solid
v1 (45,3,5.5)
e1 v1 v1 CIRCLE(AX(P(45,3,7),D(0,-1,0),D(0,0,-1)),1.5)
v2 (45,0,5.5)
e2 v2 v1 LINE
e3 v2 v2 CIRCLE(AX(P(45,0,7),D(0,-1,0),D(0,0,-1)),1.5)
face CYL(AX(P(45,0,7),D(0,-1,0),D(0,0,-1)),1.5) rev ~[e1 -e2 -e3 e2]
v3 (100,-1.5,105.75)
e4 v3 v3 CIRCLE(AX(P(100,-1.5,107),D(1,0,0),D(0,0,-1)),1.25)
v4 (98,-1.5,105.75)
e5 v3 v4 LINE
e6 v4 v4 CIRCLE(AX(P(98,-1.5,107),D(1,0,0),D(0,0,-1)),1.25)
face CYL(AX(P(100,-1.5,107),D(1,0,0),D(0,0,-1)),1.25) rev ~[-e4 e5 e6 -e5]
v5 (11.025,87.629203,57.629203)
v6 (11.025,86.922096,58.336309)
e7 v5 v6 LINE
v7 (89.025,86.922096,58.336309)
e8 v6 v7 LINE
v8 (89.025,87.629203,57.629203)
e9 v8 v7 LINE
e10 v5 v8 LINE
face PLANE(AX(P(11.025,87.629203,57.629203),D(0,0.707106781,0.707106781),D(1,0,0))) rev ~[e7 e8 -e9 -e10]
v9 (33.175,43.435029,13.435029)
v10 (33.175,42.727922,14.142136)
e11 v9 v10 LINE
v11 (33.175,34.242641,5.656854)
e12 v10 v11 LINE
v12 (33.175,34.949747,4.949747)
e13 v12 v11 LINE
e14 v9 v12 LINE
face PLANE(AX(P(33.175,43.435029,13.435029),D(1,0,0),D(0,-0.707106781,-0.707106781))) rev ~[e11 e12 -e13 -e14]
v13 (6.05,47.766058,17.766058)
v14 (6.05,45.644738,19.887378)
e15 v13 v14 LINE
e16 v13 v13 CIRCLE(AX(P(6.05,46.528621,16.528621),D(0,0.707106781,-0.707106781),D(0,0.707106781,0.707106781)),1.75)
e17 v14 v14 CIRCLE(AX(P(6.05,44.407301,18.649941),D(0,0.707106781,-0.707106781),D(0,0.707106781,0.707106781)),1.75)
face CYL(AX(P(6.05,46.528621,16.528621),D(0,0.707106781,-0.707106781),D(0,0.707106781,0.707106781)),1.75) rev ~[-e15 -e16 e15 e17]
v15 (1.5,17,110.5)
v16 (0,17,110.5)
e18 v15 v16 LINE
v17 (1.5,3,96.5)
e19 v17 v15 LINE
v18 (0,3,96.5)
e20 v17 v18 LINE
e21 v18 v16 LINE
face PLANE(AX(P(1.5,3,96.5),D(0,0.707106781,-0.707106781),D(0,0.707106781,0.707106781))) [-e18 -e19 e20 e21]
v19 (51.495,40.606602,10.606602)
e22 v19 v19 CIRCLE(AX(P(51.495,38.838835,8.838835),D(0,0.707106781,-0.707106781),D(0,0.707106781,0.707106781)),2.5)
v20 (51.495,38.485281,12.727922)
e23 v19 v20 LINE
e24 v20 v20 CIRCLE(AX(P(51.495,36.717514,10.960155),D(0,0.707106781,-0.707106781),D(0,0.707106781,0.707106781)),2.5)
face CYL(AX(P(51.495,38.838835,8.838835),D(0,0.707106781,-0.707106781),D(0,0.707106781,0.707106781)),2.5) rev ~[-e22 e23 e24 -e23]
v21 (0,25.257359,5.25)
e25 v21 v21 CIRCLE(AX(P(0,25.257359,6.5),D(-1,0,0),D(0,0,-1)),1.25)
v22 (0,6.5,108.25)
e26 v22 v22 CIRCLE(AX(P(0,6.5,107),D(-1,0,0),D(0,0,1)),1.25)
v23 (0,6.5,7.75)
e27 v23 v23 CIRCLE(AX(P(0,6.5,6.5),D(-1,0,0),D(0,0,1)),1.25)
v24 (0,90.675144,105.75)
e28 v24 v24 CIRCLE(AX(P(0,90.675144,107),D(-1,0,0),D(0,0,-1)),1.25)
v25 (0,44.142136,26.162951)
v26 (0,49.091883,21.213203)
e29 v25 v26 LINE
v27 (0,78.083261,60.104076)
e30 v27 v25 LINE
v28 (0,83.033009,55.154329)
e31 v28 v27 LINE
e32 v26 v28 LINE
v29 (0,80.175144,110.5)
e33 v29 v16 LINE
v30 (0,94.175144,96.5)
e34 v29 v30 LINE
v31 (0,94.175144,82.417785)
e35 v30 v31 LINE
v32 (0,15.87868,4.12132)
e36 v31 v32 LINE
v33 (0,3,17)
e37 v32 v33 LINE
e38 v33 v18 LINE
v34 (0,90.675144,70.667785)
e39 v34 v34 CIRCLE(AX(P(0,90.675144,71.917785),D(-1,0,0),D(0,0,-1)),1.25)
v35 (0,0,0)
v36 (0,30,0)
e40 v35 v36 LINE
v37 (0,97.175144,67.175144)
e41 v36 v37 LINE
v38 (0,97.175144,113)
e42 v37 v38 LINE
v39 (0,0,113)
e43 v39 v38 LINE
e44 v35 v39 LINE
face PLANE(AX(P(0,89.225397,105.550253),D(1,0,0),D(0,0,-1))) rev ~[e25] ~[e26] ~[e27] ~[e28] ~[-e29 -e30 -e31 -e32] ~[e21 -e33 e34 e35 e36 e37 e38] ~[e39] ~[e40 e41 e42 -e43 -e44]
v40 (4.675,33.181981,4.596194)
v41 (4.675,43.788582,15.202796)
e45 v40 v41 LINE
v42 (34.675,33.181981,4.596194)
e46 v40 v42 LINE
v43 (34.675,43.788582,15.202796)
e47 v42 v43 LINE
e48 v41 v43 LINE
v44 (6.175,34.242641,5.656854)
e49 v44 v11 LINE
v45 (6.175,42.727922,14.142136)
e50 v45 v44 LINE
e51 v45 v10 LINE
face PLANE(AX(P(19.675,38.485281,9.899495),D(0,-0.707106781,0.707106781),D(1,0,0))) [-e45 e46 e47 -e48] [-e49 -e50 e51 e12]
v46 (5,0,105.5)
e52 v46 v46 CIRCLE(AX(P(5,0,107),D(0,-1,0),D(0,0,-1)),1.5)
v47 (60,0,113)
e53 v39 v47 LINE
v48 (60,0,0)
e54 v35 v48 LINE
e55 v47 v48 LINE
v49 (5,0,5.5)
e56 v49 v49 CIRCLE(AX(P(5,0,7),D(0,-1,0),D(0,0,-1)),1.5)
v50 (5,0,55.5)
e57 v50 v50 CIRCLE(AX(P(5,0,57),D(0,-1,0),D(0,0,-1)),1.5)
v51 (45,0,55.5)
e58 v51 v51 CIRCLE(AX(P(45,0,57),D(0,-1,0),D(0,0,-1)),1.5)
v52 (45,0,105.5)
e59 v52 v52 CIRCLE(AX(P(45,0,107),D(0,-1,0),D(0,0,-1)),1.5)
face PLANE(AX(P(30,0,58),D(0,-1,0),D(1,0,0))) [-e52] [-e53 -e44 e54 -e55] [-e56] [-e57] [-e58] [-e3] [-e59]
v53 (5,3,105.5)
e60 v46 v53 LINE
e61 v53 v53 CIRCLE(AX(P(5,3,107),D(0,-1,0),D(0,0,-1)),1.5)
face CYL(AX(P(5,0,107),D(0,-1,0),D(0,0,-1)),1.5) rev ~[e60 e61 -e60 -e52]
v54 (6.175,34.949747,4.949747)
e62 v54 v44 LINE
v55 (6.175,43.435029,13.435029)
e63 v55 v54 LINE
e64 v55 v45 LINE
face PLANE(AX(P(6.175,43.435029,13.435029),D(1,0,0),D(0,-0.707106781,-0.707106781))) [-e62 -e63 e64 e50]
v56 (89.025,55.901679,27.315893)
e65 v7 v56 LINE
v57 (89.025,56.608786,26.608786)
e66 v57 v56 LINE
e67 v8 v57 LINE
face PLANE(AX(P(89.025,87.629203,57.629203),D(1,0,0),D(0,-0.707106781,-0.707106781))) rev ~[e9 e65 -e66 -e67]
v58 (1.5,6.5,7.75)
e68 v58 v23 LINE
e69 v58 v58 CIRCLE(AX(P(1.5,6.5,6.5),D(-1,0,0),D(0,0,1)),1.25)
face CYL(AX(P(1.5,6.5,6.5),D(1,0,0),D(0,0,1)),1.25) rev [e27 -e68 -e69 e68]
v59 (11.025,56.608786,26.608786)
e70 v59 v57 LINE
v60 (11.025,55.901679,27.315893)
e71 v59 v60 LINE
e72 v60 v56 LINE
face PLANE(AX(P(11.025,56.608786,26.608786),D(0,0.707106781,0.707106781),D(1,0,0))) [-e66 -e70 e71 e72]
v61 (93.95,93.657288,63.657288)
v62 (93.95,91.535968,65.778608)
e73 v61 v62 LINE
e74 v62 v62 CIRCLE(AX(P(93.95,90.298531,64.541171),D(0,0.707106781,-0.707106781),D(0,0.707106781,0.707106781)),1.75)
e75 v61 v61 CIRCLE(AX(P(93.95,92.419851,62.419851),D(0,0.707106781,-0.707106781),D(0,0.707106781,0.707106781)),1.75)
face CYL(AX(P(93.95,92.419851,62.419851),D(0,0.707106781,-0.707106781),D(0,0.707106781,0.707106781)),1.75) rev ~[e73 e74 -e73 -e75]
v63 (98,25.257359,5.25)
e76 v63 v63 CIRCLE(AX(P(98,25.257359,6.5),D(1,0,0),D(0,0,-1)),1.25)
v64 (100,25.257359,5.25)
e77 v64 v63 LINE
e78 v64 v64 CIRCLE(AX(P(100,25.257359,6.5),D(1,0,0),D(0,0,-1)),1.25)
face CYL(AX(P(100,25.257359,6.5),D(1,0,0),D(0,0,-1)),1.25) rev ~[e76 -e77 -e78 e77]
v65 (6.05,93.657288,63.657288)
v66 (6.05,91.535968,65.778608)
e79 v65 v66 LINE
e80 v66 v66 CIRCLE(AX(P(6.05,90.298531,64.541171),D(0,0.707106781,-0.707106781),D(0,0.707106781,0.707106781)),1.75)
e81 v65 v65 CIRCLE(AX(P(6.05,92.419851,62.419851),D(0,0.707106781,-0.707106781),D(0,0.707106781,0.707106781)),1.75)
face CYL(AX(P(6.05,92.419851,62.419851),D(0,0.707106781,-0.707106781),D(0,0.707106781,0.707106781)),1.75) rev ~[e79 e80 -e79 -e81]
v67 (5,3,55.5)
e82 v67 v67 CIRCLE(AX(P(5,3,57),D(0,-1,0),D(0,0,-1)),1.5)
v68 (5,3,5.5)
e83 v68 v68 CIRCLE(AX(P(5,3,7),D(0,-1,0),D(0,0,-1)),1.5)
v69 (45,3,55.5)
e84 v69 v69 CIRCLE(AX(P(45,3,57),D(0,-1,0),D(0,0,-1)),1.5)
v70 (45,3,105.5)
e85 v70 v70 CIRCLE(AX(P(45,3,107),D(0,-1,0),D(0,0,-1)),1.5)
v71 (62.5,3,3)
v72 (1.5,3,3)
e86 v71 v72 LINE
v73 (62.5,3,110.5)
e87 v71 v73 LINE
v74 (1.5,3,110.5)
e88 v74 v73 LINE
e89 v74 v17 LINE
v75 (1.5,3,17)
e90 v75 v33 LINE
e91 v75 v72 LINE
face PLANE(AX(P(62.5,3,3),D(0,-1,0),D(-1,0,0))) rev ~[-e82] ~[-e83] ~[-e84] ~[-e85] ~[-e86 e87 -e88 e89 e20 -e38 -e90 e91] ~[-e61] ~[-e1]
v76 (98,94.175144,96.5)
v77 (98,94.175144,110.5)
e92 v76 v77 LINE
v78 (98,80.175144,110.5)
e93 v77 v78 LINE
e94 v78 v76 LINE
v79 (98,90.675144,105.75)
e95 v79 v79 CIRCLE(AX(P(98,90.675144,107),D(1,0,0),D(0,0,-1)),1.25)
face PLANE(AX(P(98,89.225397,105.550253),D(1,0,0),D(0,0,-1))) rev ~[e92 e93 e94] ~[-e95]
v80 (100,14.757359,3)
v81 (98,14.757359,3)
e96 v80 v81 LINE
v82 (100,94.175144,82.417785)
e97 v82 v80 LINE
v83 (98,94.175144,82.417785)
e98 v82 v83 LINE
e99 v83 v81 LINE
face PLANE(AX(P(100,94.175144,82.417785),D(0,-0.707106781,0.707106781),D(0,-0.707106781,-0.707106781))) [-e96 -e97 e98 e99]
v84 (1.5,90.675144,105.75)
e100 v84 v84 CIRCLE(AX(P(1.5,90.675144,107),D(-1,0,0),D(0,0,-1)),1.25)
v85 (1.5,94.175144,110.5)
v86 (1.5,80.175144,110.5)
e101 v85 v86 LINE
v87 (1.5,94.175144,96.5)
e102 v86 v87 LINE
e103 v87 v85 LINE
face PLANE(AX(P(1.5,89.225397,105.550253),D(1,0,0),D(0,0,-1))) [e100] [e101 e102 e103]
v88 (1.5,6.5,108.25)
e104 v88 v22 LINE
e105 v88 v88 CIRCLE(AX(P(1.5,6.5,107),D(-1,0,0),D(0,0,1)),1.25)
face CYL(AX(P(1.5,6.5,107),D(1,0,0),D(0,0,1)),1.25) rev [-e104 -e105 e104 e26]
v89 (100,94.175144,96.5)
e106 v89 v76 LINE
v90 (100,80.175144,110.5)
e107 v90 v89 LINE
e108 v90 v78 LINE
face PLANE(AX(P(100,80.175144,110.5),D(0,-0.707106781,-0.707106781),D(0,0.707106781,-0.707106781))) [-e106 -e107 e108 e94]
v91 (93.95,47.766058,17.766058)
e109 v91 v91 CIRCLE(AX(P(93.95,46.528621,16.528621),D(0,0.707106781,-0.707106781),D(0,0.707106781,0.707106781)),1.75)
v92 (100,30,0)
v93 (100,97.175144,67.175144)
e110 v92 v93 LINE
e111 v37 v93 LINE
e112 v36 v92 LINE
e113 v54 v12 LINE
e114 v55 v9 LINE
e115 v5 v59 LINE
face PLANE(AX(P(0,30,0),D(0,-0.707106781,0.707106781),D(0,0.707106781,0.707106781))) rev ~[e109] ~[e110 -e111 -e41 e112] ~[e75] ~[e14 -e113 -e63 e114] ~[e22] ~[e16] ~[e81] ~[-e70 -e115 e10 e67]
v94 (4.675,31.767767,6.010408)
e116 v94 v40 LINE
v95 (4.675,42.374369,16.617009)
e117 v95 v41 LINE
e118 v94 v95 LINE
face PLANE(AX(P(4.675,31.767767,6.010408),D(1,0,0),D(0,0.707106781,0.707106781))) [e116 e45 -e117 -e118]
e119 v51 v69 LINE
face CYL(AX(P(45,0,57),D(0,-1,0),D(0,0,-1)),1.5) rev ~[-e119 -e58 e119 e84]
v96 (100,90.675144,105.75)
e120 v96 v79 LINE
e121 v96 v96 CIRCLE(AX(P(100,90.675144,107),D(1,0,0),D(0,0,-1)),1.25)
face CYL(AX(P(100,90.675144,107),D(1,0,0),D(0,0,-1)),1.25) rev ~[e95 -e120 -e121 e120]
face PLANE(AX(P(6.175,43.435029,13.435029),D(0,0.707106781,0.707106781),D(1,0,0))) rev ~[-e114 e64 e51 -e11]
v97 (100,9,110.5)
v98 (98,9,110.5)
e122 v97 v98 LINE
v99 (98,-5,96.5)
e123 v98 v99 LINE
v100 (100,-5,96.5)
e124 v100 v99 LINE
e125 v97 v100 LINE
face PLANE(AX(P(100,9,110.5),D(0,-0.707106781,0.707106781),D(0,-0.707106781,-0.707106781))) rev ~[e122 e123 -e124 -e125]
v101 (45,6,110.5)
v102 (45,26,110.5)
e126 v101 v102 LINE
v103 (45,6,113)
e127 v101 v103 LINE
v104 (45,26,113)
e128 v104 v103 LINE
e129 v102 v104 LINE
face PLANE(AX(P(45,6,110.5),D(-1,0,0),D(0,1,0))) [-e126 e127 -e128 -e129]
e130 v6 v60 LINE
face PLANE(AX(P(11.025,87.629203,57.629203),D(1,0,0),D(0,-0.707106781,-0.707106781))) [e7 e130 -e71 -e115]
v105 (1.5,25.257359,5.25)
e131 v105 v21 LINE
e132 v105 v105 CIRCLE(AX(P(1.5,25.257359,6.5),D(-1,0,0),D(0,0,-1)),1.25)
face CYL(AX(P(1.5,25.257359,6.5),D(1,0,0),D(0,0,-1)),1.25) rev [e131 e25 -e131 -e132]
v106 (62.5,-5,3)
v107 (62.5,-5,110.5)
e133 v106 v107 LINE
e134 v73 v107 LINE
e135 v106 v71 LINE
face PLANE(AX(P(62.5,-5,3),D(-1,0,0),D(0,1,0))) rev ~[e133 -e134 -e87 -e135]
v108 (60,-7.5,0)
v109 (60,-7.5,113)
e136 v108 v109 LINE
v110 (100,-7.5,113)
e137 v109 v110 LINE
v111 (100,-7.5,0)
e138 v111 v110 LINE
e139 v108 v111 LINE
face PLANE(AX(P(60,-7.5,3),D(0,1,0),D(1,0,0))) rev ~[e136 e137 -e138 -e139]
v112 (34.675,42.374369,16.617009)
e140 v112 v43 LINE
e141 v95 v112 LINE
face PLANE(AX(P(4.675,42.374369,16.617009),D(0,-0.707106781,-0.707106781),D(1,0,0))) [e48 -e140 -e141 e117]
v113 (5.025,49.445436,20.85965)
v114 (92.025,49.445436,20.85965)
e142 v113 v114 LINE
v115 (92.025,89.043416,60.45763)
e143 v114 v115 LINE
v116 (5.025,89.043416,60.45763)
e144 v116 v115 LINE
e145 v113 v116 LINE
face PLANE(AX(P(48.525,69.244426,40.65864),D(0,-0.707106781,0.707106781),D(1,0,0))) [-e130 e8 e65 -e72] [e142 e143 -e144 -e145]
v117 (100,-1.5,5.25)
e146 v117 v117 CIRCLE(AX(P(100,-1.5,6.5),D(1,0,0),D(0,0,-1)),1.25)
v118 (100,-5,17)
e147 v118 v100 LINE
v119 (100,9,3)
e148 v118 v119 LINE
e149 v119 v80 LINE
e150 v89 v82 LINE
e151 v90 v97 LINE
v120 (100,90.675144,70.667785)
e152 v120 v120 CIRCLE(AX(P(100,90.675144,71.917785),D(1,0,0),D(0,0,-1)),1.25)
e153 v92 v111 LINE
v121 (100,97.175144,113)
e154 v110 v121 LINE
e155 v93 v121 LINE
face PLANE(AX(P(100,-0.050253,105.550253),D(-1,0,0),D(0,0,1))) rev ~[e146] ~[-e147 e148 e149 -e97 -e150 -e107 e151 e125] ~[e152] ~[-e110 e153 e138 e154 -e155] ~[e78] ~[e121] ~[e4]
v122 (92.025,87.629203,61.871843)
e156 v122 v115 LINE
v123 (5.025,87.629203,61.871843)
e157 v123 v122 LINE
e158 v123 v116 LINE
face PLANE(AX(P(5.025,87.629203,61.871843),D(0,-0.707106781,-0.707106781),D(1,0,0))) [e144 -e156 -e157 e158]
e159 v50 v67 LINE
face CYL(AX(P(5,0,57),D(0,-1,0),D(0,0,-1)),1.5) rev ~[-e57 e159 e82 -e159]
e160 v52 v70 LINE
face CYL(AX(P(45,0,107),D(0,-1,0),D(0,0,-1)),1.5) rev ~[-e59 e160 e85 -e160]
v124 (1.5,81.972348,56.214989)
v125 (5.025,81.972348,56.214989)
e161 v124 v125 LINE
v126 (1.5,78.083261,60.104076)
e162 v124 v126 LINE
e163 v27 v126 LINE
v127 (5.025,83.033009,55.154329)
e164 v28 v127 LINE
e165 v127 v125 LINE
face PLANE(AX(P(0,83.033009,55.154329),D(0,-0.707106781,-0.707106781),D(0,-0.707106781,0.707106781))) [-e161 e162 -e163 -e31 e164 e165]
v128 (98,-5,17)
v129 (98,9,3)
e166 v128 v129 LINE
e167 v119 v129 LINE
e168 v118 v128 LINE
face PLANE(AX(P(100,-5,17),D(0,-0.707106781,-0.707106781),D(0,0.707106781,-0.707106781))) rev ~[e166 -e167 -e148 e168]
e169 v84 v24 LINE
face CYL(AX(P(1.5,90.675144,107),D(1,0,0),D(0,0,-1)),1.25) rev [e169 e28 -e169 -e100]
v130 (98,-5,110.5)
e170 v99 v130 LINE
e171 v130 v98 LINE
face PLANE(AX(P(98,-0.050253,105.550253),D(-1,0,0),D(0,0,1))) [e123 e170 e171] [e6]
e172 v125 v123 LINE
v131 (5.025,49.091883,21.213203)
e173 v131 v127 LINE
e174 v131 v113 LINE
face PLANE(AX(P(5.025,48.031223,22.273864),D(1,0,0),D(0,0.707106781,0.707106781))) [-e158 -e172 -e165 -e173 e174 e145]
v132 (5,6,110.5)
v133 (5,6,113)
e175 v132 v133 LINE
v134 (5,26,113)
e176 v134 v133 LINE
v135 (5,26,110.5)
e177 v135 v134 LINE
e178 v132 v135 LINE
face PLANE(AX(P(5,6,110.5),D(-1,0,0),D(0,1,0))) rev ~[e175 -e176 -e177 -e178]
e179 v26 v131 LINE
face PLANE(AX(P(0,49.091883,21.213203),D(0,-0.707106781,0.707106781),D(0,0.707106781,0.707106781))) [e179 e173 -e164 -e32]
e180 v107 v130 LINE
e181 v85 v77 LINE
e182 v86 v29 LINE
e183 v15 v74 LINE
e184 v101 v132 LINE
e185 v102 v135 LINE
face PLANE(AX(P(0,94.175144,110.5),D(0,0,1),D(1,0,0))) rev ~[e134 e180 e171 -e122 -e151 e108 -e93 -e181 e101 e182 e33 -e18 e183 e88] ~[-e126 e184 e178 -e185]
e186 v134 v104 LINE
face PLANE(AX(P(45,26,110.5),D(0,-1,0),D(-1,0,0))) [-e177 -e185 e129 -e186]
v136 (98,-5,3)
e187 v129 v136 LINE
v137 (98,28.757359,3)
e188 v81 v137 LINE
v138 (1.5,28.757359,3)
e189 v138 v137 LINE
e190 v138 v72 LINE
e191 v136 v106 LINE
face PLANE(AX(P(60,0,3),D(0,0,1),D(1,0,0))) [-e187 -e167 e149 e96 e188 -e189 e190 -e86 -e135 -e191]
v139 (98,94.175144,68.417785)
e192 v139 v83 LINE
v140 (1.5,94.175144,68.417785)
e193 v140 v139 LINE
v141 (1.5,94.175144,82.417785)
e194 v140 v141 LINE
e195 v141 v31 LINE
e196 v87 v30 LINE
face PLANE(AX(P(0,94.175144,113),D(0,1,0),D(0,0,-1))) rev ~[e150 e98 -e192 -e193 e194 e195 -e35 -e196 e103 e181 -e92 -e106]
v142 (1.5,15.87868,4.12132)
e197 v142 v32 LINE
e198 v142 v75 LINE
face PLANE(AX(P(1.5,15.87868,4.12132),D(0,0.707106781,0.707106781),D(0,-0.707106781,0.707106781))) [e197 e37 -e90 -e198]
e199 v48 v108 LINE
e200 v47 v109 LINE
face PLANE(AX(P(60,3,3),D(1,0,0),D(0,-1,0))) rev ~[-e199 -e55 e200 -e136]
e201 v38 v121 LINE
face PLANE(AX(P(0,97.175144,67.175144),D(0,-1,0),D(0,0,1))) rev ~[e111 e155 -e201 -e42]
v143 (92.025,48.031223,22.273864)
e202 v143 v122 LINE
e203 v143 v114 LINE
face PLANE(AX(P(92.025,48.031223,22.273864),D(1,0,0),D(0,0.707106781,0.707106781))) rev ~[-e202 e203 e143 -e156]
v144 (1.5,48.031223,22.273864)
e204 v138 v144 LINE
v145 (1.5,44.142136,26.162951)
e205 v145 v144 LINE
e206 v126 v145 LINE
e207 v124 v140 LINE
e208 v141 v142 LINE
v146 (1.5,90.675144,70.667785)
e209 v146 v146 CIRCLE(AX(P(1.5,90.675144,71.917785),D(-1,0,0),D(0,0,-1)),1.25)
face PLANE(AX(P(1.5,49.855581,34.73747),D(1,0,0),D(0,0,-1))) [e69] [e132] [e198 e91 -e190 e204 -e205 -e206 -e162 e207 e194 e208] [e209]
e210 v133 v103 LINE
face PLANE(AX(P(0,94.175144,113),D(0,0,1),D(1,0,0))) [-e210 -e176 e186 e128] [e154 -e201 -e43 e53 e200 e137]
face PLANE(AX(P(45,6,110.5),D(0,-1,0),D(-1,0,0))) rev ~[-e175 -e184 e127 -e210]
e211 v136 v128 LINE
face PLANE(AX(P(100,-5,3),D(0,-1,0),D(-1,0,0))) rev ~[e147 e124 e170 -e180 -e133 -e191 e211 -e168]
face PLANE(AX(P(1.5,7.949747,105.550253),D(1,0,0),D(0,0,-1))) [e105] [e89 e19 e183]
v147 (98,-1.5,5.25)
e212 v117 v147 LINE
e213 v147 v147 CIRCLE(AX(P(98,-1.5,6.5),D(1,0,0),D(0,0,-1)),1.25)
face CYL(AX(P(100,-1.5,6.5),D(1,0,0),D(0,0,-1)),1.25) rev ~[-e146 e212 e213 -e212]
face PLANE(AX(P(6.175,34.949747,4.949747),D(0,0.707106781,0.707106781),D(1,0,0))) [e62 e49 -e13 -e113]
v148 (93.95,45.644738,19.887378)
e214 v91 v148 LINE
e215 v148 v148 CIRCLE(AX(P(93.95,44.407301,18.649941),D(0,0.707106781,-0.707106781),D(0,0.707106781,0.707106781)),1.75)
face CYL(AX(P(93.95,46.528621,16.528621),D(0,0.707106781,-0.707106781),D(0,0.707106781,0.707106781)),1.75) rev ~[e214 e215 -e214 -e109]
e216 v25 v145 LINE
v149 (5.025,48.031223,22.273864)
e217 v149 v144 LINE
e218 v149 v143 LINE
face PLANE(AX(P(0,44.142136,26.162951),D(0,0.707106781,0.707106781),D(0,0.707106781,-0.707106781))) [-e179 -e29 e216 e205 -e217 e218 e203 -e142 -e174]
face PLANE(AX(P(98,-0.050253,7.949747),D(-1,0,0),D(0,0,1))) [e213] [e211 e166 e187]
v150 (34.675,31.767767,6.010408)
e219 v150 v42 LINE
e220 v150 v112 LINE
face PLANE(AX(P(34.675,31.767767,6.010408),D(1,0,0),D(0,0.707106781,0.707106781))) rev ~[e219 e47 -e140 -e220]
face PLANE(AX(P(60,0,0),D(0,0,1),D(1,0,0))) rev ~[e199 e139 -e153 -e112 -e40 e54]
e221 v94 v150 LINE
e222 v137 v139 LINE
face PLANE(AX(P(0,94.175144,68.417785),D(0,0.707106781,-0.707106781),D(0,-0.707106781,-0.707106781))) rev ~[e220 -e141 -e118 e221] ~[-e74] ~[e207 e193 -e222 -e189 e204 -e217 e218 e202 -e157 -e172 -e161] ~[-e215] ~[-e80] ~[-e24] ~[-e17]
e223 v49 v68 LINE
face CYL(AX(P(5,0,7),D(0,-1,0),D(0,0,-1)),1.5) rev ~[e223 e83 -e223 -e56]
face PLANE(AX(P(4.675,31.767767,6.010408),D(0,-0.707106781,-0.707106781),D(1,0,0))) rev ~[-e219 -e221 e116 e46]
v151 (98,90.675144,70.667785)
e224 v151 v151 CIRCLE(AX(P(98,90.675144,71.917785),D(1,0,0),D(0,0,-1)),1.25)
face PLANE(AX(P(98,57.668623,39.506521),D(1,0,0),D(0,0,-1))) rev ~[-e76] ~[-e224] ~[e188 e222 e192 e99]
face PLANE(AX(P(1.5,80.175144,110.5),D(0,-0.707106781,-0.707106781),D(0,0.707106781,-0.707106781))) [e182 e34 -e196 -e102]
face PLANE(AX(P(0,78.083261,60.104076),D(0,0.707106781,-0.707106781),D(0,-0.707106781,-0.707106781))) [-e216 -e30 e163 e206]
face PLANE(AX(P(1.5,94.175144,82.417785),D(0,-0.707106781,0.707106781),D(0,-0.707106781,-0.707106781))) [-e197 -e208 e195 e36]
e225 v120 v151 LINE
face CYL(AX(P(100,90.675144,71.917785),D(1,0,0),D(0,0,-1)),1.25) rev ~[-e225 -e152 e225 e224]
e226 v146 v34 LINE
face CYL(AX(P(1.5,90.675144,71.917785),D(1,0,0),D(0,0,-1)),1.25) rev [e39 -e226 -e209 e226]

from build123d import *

# Parameters (mm, degrees)
BOSS_EXTRUDE1_DEPTH = 100
SKETCH2_W           = 40
SKETCH2_H           = 3
BOSS_EXTRUDE2_DEPTH = 7.5
SKETCH3_W           = 60
SKETCH3_H           = 110
BOSS_EXTRUDE3_DEPTH = 3
BOSS_EXTRUDE4_DEPTH = 110
BOSS_EXTRUDE5_REACH = 183.953
SKETCH5_W           = 100
SKETCH5_H           = 2.5
CUT_EXTRUDE1_REACH  = 181.477
SKETCH6_R           = 1.5
SKETCH7_R           = 1.25
BOSS_EXTRUDE6_DEPTH = 2
CUT_EXTRUDE2_REACH  = 184.035
SKETCH8_R           = 1.75
SKETCH8_R_2         = 2.5
SKETCH8_W           = 78
SKETCH8_H           = 43.869493833
SKETCH8_W_2         = 27
SKETCH8_H_2         = 12
SKETCH9_W           = 87
SKETCH9_H           = 56
SKETCH9_W_2         = 30
SKETCH9_H_2         = 15
CUT_EXTRUDE3_DEPTH  = 2
SKETCH10_W          = 40
SKETCH10_H          = 20
CUT_EXTRUDE4_DEPTH  = 178.913626945
BOSS_EXTRUDE7_START = -1.5
SKETCH11_R          = 1.25
BOSS_EXTRUDE7_DEPTH = 1.5
CUT_EXTRUDE5_REACH  = 181.477


with BuildPart() as part:
    # Sketch1 → Boss-Extrude1 (new body)
    with BuildSketch(Plane(origin=(0, 0, 0), x_dir=(0, 0, -1), z_dir=(1, 0, 0))):
        Polygon((0, 0), (0, 30), (-67.175144213, 97.175144213), (-113, 97.175144213), (-113, 94.175144213), (-68.4177849, 94.175144213), (-3, 28.757359313), (-3, 0), align=None)
    extrude(amount=BOSS_EXTRUDE1_DEPTH)

    # Sketch2 → Boss-Extrude2 (add)
    with BuildSketch(Plane.XZ):
        with Locations((80, 1.5)):
            Rectangle(SKETCH2_W, SKETCH2_H)
    extrude(amount=BOSS_EXTRUDE2_DEPTH)

    # Sketch3 → Boss-Extrude3 (add)
    with BuildSketch(Plane.XZ):
        with Locations((30, 58)):
            Rectangle(SKETCH3_W, SKETCH3_H)
    extrude(amount=-BOSS_EXTRUDE3_DEPTH)

    # Sketch4 → Boss-Extrude4 (add)
    with BuildSketch(Plane.XY.offset(3)):
        Polygon((60, 3), (60, -7.5), (100, -7.5), (100, -5), (62.5, -5), (62.5, 3), align=None)
    extrude(amount=BOSS_EXTRUDE4_DEPTH)

    # Sketch5 → Boss-Extrude5 (add, up to next)
    with BuildSketch(Plane.XZ.offset(-94.175144213), mode=Mode.PRIVATE) as boss_extrude5_sk1:
        with Locations((50, 111.75)):
            Rectangle(SKETCH5_W, SKETCH5_H)
    boss_extrude5_tool1 = extrude(boss_extrude5_sk1.sketch, amount=BOSS_EXTRUDE5_REACH, mode=Mode.PRIVATE) - part.part
    add(boss_extrude5_tool1.solids().sort_by_distance((50, 94.175144, 111.75))[0])

    # Sketch6 → Cut-Extrude1 (cut, up to next)
    with BuildSketch(Plane.XZ, mode=Mode.PRIVATE) as cut_extrude1_sk1:
        with Locations(Location((5, 107, 0), (0, 0, 270))):
            Circle(SKETCH6_R)
    cut_extrude1_tool1 = extrude(cut_extrude1_sk1.sketch, amount=-CUT_EXTRUDE1_REACH, mode=Mode.PRIVATE) & part.part
    # Sketch6 → Cut-Extrude1 (cut, up to next)
    with BuildSketch(Plane.XZ, mode=Mode.PRIVATE) as cut_extrude1_sk2:
        with Locations(Location((45, 107, 0), (0, 0, 270))):
            Circle(SKETCH6_R)
    cut_extrude1_tool2 = extrude(cut_extrude1_sk2.sketch, amount=-CUT_EXTRUDE1_REACH, mode=Mode.PRIVATE) & part.part
    # Sketch6 → Cut-Extrude1 (cut, up to next)
    with BuildSketch(Plane.XZ, mode=Mode.PRIVATE) as cut_extrude1_sk3:
        with Locations(Location((45, 57, 0), (0, 0, 270))):
            Circle(SKETCH6_R)
    cut_extrude1_tool3 = extrude(cut_extrude1_sk3.sketch, amount=-CUT_EXTRUDE1_REACH, mode=Mode.PRIVATE) & part.part
    # Sketch6 → Cut-Extrude1 (cut, up to next)
    with BuildSketch(Plane.XZ, mode=Mode.PRIVATE) as cut_extrude1_sk4:
        with Locations(Location((5, 57, 0), (0, 0, 270))):
            Circle(SKETCH6_R)
    cut_extrude1_tool4 = extrude(cut_extrude1_sk4.sketch, amount=-CUT_EXTRUDE1_REACH, mode=Mode.PRIVATE) & part.part
    # Sketch6 → Cut-Extrude1 (cut, up to next)
    with BuildSketch(Plane.XZ, mode=Mode.PRIVATE) as cut_extrude1_sk5:
        with Locations(Location((5, 7, 0), (0, 0, 270))):
            Circle(SKETCH6_R)
    cut_extrude1_tool5 = extrude(cut_extrude1_sk5.sketch, amount=-CUT_EXTRUDE1_REACH, mode=Mode.PRIVATE) & part.part
    # Sketch6 → Cut-Extrude1 (cut, up to next)
    with BuildSketch(Plane.XZ, mode=Mode.PRIVATE) as cut_extrude1_sk6:
        with Locations(Location((45, 7, 0), (0, 0, 270))):
            Circle(SKETCH6_R)
    cut_extrude1_tool6 = extrude(cut_extrude1_sk6.sketch, amount=-CUT_EXTRUDE1_REACH, mode=Mode.PRIVATE) & part.part
    add(cut_extrude1_tool1.solids().sort_by_distance((5, 0, 107))[0], mode=Mode.SUBTRACT)
    add(cut_extrude1_tool2.solids().sort_by_distance((45, 0, 107))[0], mode=Mode.SUBTRACT)
    add(cut_extrude1_tool3.solids().sort_by_distance((45, 0, 57))[0], mode=Mode.SUBTRACT)
    add(cut_extrude1_tool4.solids().sort_by_distance((5, 0, 57))[0], mode=Mode.SUBTRACT)
    add(cut_extrude1_tool5.solids().sort_by_distance((5, 0, 7))[0], mode=Mode.SUBTRACT)
    add(cut_extrude1_tool6.solids().sort_by_distance((45, 0, 7))[0], mode=Mode.SUBTRACT)

    # Sketch7 → Boss-Extrude6 (add)
    # profile 1 of 4: a face of its own
    with BuildSketch(Plane(origin=(100, 0, 0), x_dir=(0, 0, -1), z_dir=(1, 0, 0))):
        Polygon((-110.5, -5), (-110.5, 9), (-96.5, -5), align=None)
        with Locations((-107, -1.5)):
            Circle(SKETCH7_R, mode=Mode.SUBTRACT)
    # profile 2 of 4: a face of its own
    with BuildSketch(Plane(origin=(100, 0, 0), x_dir=(0, 0, -1), z_dir=(1, 0, 0))):
        Polygon((-110.5, 94.175144213), (-110.5, 80.175144213), (-96.5, 94.175144213), align=None)
        with Locations((-107, 90.675144213)):
            Circle(SKETCH7_R, mode=Mode.SUBTRACT)
    # profile 3 of 4: a face of its own
    with BuildSketch(Plane(origin=(100, 0, 0), x_dir=(0, 0, -1), z_dir=(1, 0, 0))):
        Polygon((-82.4177849, 94.175144213), (-3, 14.757359313), (-3, 28.757359313), (-68.4177849, 94.175144213), align=None)
        with Locations((-6.5, 25.257359313)):
            Circle(SKETCH7_R, mode=Mode.SUBTRACT)
        with Locations((-71.9177849, 90.675144213)):
            Circle(SKETCH7_R, mode=Mode.SUBTRACT)
    # profile 4 of 4: a face of its own
    with BuildSketch(Plane(origin=(100, 0, 0), x_dir=(0, 0, -1), z_dir=(1, 0, 0))):
        Polygon((-17, -5), (-3, 9), (-3, -5), align=None)
        with Locations((-6.5, -1.5)):
            Circle(SKETCH7_R, mode=Mode.SUBTRACT)
    extrude(amount=-BOSS_EXTRUDE6_DEPTH)

    # Sketch8 → Cut-Extrude2 (cut, up to next)
    with BuildSketch(Plane(origin=(0, 15, -15), x_dir=(1, 0, 0), z_dir=(0, 0.7071067811865488, -0.7071067811865464)), mode=Mode.PRIVATE) as cut_extrude2_sk1:
        with Locations(Location((6.05, -109.488203436, 0), (0, 0, 270))):
            Circle(SKETCH8_R)
    cut_extrude2_tool1 = extrude(cut_extrude2_sk1.sketch, amount=-CUT_EXTRUDE2_REACH, mode=Mode.PRIVATE) & part.part
    # Sketch8 → Cut-Extrude2 (cut, up to next)
    with BuildSketch(Plane(origin=(0, 15, -15), x_dir=(1, 0, 0), z_dir=(0, 0.7071067811865488, -0.7071067811865464)), mode=Mode.PRIVATE) as cut_extrude2_sk2:
        with Locations(Location((93.95, -109.488203436, 0), (0, 0, 270))):
            Circle(SKETCH8_R)
    cut_extrude2_tool2 = extrude(cut_extrude2_sk2.sketch, amount=-CUT_EXTRUDE2_REACH, mode=Mode.PRIVATE) & part.part
    # Sketch8 → Cut-Extrude2 (cut, up to next)
    with BuildSketch(Plane(origin=(0, 15, -15), x_dir=(1, 0, 0), z_dir=(0, 0.7071067811865488, -0.7071067811865464)), mode=Mode.PRIVATE) as cut_extrude2_sk3:
        with Locations(Location((93.95, -44.588203436, 0), (0, 0, 270))):
            Circle(SKETCH8_R)
    cut_extrude2_tool3 = extrude(cut_extrude2_sk3.sketch, amount=-CUT_EXTRUDE2_REACH, mode=Mode.PRIVATE) & part.part
    # Sketch8 → Cut-Extrude2 (cut, up to next)
    with BuildSketch(Plane(origin=(0, 15, -15), x_dir=(1, 0, 0), z_dir=(0, 0.7071067811865488, -0.7071067811865464)), mode=Mode.PRIVATE) as cut_extrude2_sk4:
        with Locations(Location((6.05, -44.588203436, 0), (0, 0, 270))):
            Circle(SKETCH8_R)
    cut_extrude2_tool4 = extrude(cut_extrude2_sk4.sketch, amount=-CUT_EXTRUDE2_REACH, mode=Mode.PRIVATE) & part.part
    # Sketch8 → Cut-Extrude2 (cut, up to next)
    with BuildSketch(Plane(origin=(0, 15, -15), x_dir=(1, 0, 0), z_dir=(0, 0.7071067811865488, -0.7071067811865464)), mode=Mode.PRIVATE) as cut_extrude2_sk5:
        with Locations(Location((51.495, -33.713203436, 0), (0, 0, 270))):
            Circle(SKETCH8_R_2)
    cut_extrude2_tool5 = extrude(cut_extrude2_sk5.sketch, amount=-CUT_EXTRUDE2_REACH, mode=Mode.PRIVATE) & part.part
    # Sketch8 → Cut-Extrude2 (cut, up to next)
    with BuildSketch(Plane(origin=(0, 15, -15), x_dir=(1, 0, 0), z_dir=(0, 0.7071067811865488, -0.7071067811865464)), mode=Mode.PRIVATE) as cut_extrude2_sk6:
        with Locations((50.025, -80.778456519)):
            Rectangle(SKETCH8_W, SKETCH8_H)
    cut_extrude2_tool6 = extrude(cut_extrude2_sk6.sketch, amount=-CUT_EXTRUDE2_REACH, mode=Mode.PRIVATE) & part.part
    # Sketch8 → Cut-Extrude2 (cut, up to next)
    with BuildSketch(Plane(origin=(0, 15, -15), x_dir=(1, 0, 0), z_dir=(0, 0.7071067811865488, -0.7071067811865464)), mode=Mode.PRIVATE) as cut_extrude2_sk7:
        with Locations((19.675, -34.213203436)):
            Rectangle(SKETCH8_W_2, SKETCH8_H_2)
    cut_extrude2_tool7 = extrude(cut_extrude2_sk7.sketch, amount=-CUT_EXTRUDE2_REACH, mode=Mode.PRIVATE) & part.part
    add(cut_extrude2_tool1.solids().sort_by_distance((6.05, 92.419851, 62.419851))[0], mode=Mode.SUBTRACT)
    add(cut_extrude2_tool2.solids().sort_by_distance((93.95, 92.419851, 62.419851))[0], mode=Mode.SUBTRACT)
    add(cut_extrude2_tool3.solids().sort_by_distance((93.95, 46.528621, 16.528621))[0], mode=Mode.SUBTRACT)
    add(cut_extrude2_tool4.solids().sort_by_distance((6.05, 46.528621, 16.528621))[0], mode=Mode.SUBTRACT)
    add(cut_extrude2_tool5.solids().sort_by_distance((51.495, 38.838835, 8.838835))[0], mode=Mode.SUBTRACT)
    add(cut_extrude2_tool6.solids().sort_by_distance((50.025, 72.118994, 42.118994))[0], mode=Mode.SUBTRACT)
    add(cut_extrude2_tool7.solids().sort_by_distance((19.675, 39.192388, 9.192388))[0], mode=Mode.SUBTRACT)

    # Sketch9 → Cut-Extrude3 (cut)
    with BuildSketch(Plane(origin=(0, 12.878679656, -12.878679656), x_dir=(1, 0, 0), z_dir=(0, -0.7071067811865489, 0.7071067811865461))):
        with Locations((48.525, 77.713203436)):
            Rectangle(SKETCH9_W, SKETCH9_H)
        with Locations((19.675, 34.213203436)):
            Rectangle(SKETCH9_W_2, SKETCH9_H_2)
    extrude(amount=-CUT_EXTRUDE3_DEPTH, mode=Mode.SUBTRACT)

    # Sketch10 → Cut-Extrude4 (cut, through all)
    with BuildSketch(Plane(origin=(0, 0, 110.5), x_dir=(-1, 0, 0), z_dir=(0, 0, -1))):
        with Locations((-25, 16)):
            Rectangle(SKETCH10_W, SKETCH10_H)
    extrude(amount=-CUT_EXTRUDE4_DEPTH, mode=Mode.SUBTRACT)

    # Sketch11 → Boss-Extrude7 (add)
    # profile 1 of 3: a face of its own
    with BuildSketch(Plane.ZY.offset(BOSS_EXTRUDE7_START)):
        Polygon((110.5, 94.175144213), (110.5, 80.175144213), (96.5, 94.175144213), align=None)
        with Locations(Location((107, 90.675144213, 0), (0, 0, 180))):
            Circle(SKETCH11_R, mode=Mode.SUBTRACT)
    # profile 2 of 3: a face of its own
    with BuildSketch(Plane.ZY.offset(BOSS_EXTRUDE7_START)):
        Polygon((68.4177849, 94.175144213), (82.4177849, 94.175144213), (4.121320344, 15.878679656), (17, 3), (3, 3), (3, 14.757359313), (3, 28.757359313), align=None)
        with Locations(Location((71.9177849, 90.675144213, 0), (0, 0, 180))):
            Circle(SKETCH11_R, mode=Mode.SUBTRACT)
        with Locations(Location((6.5, 25.257359313, 0), (0, 0, 180))):
            Circle(SKETCH11_R, mode=Mode.SUBTRACT)
        with Locations((6.5, 6.5)):
            Circle(SKETCH11_R, mode=Mode.SUBTRACT)
    # profile 3 of 3: a face of its own
    with BuildSketch(Plane.ZY.offset(BOSS_EXTRUDE7_START)):
        Polygon((96.5, 3), (110.5, 17), (110.5, 3), align=None)
        with Locations((107, 6.5)):
            Circle(SKETCH11_R, mode=Mode.SUBTRACT)
    extrude(amount=BOSS_EXTRUDE7_DEPTH)

    # Sketch12 → Cut-Extrude5 (cut, up to next)
    with BuildSketch(Plane.ZY, mode=Mode.PRIVATE) as cut_extrude5_sk1:
        Polygon((21.213203436, 49.091883092), (55.154328933, 83.033008589), (60.104076401, 78.083261121), (26.162950904, 44.142135624), align=None)
    cut_extrude5_tool1 = extrude(cut_extrude5_sk1.sketch, amount=-CUT_EXTRUDE5_REACH, mode=Mode.PRIVATE) & part.part
    add(cut_extrude5_tool1.solids().sort_by_distance((0, 63.587572, 40.65864))[0], mode=Mode.SUBTRACT)


solid = part.part
